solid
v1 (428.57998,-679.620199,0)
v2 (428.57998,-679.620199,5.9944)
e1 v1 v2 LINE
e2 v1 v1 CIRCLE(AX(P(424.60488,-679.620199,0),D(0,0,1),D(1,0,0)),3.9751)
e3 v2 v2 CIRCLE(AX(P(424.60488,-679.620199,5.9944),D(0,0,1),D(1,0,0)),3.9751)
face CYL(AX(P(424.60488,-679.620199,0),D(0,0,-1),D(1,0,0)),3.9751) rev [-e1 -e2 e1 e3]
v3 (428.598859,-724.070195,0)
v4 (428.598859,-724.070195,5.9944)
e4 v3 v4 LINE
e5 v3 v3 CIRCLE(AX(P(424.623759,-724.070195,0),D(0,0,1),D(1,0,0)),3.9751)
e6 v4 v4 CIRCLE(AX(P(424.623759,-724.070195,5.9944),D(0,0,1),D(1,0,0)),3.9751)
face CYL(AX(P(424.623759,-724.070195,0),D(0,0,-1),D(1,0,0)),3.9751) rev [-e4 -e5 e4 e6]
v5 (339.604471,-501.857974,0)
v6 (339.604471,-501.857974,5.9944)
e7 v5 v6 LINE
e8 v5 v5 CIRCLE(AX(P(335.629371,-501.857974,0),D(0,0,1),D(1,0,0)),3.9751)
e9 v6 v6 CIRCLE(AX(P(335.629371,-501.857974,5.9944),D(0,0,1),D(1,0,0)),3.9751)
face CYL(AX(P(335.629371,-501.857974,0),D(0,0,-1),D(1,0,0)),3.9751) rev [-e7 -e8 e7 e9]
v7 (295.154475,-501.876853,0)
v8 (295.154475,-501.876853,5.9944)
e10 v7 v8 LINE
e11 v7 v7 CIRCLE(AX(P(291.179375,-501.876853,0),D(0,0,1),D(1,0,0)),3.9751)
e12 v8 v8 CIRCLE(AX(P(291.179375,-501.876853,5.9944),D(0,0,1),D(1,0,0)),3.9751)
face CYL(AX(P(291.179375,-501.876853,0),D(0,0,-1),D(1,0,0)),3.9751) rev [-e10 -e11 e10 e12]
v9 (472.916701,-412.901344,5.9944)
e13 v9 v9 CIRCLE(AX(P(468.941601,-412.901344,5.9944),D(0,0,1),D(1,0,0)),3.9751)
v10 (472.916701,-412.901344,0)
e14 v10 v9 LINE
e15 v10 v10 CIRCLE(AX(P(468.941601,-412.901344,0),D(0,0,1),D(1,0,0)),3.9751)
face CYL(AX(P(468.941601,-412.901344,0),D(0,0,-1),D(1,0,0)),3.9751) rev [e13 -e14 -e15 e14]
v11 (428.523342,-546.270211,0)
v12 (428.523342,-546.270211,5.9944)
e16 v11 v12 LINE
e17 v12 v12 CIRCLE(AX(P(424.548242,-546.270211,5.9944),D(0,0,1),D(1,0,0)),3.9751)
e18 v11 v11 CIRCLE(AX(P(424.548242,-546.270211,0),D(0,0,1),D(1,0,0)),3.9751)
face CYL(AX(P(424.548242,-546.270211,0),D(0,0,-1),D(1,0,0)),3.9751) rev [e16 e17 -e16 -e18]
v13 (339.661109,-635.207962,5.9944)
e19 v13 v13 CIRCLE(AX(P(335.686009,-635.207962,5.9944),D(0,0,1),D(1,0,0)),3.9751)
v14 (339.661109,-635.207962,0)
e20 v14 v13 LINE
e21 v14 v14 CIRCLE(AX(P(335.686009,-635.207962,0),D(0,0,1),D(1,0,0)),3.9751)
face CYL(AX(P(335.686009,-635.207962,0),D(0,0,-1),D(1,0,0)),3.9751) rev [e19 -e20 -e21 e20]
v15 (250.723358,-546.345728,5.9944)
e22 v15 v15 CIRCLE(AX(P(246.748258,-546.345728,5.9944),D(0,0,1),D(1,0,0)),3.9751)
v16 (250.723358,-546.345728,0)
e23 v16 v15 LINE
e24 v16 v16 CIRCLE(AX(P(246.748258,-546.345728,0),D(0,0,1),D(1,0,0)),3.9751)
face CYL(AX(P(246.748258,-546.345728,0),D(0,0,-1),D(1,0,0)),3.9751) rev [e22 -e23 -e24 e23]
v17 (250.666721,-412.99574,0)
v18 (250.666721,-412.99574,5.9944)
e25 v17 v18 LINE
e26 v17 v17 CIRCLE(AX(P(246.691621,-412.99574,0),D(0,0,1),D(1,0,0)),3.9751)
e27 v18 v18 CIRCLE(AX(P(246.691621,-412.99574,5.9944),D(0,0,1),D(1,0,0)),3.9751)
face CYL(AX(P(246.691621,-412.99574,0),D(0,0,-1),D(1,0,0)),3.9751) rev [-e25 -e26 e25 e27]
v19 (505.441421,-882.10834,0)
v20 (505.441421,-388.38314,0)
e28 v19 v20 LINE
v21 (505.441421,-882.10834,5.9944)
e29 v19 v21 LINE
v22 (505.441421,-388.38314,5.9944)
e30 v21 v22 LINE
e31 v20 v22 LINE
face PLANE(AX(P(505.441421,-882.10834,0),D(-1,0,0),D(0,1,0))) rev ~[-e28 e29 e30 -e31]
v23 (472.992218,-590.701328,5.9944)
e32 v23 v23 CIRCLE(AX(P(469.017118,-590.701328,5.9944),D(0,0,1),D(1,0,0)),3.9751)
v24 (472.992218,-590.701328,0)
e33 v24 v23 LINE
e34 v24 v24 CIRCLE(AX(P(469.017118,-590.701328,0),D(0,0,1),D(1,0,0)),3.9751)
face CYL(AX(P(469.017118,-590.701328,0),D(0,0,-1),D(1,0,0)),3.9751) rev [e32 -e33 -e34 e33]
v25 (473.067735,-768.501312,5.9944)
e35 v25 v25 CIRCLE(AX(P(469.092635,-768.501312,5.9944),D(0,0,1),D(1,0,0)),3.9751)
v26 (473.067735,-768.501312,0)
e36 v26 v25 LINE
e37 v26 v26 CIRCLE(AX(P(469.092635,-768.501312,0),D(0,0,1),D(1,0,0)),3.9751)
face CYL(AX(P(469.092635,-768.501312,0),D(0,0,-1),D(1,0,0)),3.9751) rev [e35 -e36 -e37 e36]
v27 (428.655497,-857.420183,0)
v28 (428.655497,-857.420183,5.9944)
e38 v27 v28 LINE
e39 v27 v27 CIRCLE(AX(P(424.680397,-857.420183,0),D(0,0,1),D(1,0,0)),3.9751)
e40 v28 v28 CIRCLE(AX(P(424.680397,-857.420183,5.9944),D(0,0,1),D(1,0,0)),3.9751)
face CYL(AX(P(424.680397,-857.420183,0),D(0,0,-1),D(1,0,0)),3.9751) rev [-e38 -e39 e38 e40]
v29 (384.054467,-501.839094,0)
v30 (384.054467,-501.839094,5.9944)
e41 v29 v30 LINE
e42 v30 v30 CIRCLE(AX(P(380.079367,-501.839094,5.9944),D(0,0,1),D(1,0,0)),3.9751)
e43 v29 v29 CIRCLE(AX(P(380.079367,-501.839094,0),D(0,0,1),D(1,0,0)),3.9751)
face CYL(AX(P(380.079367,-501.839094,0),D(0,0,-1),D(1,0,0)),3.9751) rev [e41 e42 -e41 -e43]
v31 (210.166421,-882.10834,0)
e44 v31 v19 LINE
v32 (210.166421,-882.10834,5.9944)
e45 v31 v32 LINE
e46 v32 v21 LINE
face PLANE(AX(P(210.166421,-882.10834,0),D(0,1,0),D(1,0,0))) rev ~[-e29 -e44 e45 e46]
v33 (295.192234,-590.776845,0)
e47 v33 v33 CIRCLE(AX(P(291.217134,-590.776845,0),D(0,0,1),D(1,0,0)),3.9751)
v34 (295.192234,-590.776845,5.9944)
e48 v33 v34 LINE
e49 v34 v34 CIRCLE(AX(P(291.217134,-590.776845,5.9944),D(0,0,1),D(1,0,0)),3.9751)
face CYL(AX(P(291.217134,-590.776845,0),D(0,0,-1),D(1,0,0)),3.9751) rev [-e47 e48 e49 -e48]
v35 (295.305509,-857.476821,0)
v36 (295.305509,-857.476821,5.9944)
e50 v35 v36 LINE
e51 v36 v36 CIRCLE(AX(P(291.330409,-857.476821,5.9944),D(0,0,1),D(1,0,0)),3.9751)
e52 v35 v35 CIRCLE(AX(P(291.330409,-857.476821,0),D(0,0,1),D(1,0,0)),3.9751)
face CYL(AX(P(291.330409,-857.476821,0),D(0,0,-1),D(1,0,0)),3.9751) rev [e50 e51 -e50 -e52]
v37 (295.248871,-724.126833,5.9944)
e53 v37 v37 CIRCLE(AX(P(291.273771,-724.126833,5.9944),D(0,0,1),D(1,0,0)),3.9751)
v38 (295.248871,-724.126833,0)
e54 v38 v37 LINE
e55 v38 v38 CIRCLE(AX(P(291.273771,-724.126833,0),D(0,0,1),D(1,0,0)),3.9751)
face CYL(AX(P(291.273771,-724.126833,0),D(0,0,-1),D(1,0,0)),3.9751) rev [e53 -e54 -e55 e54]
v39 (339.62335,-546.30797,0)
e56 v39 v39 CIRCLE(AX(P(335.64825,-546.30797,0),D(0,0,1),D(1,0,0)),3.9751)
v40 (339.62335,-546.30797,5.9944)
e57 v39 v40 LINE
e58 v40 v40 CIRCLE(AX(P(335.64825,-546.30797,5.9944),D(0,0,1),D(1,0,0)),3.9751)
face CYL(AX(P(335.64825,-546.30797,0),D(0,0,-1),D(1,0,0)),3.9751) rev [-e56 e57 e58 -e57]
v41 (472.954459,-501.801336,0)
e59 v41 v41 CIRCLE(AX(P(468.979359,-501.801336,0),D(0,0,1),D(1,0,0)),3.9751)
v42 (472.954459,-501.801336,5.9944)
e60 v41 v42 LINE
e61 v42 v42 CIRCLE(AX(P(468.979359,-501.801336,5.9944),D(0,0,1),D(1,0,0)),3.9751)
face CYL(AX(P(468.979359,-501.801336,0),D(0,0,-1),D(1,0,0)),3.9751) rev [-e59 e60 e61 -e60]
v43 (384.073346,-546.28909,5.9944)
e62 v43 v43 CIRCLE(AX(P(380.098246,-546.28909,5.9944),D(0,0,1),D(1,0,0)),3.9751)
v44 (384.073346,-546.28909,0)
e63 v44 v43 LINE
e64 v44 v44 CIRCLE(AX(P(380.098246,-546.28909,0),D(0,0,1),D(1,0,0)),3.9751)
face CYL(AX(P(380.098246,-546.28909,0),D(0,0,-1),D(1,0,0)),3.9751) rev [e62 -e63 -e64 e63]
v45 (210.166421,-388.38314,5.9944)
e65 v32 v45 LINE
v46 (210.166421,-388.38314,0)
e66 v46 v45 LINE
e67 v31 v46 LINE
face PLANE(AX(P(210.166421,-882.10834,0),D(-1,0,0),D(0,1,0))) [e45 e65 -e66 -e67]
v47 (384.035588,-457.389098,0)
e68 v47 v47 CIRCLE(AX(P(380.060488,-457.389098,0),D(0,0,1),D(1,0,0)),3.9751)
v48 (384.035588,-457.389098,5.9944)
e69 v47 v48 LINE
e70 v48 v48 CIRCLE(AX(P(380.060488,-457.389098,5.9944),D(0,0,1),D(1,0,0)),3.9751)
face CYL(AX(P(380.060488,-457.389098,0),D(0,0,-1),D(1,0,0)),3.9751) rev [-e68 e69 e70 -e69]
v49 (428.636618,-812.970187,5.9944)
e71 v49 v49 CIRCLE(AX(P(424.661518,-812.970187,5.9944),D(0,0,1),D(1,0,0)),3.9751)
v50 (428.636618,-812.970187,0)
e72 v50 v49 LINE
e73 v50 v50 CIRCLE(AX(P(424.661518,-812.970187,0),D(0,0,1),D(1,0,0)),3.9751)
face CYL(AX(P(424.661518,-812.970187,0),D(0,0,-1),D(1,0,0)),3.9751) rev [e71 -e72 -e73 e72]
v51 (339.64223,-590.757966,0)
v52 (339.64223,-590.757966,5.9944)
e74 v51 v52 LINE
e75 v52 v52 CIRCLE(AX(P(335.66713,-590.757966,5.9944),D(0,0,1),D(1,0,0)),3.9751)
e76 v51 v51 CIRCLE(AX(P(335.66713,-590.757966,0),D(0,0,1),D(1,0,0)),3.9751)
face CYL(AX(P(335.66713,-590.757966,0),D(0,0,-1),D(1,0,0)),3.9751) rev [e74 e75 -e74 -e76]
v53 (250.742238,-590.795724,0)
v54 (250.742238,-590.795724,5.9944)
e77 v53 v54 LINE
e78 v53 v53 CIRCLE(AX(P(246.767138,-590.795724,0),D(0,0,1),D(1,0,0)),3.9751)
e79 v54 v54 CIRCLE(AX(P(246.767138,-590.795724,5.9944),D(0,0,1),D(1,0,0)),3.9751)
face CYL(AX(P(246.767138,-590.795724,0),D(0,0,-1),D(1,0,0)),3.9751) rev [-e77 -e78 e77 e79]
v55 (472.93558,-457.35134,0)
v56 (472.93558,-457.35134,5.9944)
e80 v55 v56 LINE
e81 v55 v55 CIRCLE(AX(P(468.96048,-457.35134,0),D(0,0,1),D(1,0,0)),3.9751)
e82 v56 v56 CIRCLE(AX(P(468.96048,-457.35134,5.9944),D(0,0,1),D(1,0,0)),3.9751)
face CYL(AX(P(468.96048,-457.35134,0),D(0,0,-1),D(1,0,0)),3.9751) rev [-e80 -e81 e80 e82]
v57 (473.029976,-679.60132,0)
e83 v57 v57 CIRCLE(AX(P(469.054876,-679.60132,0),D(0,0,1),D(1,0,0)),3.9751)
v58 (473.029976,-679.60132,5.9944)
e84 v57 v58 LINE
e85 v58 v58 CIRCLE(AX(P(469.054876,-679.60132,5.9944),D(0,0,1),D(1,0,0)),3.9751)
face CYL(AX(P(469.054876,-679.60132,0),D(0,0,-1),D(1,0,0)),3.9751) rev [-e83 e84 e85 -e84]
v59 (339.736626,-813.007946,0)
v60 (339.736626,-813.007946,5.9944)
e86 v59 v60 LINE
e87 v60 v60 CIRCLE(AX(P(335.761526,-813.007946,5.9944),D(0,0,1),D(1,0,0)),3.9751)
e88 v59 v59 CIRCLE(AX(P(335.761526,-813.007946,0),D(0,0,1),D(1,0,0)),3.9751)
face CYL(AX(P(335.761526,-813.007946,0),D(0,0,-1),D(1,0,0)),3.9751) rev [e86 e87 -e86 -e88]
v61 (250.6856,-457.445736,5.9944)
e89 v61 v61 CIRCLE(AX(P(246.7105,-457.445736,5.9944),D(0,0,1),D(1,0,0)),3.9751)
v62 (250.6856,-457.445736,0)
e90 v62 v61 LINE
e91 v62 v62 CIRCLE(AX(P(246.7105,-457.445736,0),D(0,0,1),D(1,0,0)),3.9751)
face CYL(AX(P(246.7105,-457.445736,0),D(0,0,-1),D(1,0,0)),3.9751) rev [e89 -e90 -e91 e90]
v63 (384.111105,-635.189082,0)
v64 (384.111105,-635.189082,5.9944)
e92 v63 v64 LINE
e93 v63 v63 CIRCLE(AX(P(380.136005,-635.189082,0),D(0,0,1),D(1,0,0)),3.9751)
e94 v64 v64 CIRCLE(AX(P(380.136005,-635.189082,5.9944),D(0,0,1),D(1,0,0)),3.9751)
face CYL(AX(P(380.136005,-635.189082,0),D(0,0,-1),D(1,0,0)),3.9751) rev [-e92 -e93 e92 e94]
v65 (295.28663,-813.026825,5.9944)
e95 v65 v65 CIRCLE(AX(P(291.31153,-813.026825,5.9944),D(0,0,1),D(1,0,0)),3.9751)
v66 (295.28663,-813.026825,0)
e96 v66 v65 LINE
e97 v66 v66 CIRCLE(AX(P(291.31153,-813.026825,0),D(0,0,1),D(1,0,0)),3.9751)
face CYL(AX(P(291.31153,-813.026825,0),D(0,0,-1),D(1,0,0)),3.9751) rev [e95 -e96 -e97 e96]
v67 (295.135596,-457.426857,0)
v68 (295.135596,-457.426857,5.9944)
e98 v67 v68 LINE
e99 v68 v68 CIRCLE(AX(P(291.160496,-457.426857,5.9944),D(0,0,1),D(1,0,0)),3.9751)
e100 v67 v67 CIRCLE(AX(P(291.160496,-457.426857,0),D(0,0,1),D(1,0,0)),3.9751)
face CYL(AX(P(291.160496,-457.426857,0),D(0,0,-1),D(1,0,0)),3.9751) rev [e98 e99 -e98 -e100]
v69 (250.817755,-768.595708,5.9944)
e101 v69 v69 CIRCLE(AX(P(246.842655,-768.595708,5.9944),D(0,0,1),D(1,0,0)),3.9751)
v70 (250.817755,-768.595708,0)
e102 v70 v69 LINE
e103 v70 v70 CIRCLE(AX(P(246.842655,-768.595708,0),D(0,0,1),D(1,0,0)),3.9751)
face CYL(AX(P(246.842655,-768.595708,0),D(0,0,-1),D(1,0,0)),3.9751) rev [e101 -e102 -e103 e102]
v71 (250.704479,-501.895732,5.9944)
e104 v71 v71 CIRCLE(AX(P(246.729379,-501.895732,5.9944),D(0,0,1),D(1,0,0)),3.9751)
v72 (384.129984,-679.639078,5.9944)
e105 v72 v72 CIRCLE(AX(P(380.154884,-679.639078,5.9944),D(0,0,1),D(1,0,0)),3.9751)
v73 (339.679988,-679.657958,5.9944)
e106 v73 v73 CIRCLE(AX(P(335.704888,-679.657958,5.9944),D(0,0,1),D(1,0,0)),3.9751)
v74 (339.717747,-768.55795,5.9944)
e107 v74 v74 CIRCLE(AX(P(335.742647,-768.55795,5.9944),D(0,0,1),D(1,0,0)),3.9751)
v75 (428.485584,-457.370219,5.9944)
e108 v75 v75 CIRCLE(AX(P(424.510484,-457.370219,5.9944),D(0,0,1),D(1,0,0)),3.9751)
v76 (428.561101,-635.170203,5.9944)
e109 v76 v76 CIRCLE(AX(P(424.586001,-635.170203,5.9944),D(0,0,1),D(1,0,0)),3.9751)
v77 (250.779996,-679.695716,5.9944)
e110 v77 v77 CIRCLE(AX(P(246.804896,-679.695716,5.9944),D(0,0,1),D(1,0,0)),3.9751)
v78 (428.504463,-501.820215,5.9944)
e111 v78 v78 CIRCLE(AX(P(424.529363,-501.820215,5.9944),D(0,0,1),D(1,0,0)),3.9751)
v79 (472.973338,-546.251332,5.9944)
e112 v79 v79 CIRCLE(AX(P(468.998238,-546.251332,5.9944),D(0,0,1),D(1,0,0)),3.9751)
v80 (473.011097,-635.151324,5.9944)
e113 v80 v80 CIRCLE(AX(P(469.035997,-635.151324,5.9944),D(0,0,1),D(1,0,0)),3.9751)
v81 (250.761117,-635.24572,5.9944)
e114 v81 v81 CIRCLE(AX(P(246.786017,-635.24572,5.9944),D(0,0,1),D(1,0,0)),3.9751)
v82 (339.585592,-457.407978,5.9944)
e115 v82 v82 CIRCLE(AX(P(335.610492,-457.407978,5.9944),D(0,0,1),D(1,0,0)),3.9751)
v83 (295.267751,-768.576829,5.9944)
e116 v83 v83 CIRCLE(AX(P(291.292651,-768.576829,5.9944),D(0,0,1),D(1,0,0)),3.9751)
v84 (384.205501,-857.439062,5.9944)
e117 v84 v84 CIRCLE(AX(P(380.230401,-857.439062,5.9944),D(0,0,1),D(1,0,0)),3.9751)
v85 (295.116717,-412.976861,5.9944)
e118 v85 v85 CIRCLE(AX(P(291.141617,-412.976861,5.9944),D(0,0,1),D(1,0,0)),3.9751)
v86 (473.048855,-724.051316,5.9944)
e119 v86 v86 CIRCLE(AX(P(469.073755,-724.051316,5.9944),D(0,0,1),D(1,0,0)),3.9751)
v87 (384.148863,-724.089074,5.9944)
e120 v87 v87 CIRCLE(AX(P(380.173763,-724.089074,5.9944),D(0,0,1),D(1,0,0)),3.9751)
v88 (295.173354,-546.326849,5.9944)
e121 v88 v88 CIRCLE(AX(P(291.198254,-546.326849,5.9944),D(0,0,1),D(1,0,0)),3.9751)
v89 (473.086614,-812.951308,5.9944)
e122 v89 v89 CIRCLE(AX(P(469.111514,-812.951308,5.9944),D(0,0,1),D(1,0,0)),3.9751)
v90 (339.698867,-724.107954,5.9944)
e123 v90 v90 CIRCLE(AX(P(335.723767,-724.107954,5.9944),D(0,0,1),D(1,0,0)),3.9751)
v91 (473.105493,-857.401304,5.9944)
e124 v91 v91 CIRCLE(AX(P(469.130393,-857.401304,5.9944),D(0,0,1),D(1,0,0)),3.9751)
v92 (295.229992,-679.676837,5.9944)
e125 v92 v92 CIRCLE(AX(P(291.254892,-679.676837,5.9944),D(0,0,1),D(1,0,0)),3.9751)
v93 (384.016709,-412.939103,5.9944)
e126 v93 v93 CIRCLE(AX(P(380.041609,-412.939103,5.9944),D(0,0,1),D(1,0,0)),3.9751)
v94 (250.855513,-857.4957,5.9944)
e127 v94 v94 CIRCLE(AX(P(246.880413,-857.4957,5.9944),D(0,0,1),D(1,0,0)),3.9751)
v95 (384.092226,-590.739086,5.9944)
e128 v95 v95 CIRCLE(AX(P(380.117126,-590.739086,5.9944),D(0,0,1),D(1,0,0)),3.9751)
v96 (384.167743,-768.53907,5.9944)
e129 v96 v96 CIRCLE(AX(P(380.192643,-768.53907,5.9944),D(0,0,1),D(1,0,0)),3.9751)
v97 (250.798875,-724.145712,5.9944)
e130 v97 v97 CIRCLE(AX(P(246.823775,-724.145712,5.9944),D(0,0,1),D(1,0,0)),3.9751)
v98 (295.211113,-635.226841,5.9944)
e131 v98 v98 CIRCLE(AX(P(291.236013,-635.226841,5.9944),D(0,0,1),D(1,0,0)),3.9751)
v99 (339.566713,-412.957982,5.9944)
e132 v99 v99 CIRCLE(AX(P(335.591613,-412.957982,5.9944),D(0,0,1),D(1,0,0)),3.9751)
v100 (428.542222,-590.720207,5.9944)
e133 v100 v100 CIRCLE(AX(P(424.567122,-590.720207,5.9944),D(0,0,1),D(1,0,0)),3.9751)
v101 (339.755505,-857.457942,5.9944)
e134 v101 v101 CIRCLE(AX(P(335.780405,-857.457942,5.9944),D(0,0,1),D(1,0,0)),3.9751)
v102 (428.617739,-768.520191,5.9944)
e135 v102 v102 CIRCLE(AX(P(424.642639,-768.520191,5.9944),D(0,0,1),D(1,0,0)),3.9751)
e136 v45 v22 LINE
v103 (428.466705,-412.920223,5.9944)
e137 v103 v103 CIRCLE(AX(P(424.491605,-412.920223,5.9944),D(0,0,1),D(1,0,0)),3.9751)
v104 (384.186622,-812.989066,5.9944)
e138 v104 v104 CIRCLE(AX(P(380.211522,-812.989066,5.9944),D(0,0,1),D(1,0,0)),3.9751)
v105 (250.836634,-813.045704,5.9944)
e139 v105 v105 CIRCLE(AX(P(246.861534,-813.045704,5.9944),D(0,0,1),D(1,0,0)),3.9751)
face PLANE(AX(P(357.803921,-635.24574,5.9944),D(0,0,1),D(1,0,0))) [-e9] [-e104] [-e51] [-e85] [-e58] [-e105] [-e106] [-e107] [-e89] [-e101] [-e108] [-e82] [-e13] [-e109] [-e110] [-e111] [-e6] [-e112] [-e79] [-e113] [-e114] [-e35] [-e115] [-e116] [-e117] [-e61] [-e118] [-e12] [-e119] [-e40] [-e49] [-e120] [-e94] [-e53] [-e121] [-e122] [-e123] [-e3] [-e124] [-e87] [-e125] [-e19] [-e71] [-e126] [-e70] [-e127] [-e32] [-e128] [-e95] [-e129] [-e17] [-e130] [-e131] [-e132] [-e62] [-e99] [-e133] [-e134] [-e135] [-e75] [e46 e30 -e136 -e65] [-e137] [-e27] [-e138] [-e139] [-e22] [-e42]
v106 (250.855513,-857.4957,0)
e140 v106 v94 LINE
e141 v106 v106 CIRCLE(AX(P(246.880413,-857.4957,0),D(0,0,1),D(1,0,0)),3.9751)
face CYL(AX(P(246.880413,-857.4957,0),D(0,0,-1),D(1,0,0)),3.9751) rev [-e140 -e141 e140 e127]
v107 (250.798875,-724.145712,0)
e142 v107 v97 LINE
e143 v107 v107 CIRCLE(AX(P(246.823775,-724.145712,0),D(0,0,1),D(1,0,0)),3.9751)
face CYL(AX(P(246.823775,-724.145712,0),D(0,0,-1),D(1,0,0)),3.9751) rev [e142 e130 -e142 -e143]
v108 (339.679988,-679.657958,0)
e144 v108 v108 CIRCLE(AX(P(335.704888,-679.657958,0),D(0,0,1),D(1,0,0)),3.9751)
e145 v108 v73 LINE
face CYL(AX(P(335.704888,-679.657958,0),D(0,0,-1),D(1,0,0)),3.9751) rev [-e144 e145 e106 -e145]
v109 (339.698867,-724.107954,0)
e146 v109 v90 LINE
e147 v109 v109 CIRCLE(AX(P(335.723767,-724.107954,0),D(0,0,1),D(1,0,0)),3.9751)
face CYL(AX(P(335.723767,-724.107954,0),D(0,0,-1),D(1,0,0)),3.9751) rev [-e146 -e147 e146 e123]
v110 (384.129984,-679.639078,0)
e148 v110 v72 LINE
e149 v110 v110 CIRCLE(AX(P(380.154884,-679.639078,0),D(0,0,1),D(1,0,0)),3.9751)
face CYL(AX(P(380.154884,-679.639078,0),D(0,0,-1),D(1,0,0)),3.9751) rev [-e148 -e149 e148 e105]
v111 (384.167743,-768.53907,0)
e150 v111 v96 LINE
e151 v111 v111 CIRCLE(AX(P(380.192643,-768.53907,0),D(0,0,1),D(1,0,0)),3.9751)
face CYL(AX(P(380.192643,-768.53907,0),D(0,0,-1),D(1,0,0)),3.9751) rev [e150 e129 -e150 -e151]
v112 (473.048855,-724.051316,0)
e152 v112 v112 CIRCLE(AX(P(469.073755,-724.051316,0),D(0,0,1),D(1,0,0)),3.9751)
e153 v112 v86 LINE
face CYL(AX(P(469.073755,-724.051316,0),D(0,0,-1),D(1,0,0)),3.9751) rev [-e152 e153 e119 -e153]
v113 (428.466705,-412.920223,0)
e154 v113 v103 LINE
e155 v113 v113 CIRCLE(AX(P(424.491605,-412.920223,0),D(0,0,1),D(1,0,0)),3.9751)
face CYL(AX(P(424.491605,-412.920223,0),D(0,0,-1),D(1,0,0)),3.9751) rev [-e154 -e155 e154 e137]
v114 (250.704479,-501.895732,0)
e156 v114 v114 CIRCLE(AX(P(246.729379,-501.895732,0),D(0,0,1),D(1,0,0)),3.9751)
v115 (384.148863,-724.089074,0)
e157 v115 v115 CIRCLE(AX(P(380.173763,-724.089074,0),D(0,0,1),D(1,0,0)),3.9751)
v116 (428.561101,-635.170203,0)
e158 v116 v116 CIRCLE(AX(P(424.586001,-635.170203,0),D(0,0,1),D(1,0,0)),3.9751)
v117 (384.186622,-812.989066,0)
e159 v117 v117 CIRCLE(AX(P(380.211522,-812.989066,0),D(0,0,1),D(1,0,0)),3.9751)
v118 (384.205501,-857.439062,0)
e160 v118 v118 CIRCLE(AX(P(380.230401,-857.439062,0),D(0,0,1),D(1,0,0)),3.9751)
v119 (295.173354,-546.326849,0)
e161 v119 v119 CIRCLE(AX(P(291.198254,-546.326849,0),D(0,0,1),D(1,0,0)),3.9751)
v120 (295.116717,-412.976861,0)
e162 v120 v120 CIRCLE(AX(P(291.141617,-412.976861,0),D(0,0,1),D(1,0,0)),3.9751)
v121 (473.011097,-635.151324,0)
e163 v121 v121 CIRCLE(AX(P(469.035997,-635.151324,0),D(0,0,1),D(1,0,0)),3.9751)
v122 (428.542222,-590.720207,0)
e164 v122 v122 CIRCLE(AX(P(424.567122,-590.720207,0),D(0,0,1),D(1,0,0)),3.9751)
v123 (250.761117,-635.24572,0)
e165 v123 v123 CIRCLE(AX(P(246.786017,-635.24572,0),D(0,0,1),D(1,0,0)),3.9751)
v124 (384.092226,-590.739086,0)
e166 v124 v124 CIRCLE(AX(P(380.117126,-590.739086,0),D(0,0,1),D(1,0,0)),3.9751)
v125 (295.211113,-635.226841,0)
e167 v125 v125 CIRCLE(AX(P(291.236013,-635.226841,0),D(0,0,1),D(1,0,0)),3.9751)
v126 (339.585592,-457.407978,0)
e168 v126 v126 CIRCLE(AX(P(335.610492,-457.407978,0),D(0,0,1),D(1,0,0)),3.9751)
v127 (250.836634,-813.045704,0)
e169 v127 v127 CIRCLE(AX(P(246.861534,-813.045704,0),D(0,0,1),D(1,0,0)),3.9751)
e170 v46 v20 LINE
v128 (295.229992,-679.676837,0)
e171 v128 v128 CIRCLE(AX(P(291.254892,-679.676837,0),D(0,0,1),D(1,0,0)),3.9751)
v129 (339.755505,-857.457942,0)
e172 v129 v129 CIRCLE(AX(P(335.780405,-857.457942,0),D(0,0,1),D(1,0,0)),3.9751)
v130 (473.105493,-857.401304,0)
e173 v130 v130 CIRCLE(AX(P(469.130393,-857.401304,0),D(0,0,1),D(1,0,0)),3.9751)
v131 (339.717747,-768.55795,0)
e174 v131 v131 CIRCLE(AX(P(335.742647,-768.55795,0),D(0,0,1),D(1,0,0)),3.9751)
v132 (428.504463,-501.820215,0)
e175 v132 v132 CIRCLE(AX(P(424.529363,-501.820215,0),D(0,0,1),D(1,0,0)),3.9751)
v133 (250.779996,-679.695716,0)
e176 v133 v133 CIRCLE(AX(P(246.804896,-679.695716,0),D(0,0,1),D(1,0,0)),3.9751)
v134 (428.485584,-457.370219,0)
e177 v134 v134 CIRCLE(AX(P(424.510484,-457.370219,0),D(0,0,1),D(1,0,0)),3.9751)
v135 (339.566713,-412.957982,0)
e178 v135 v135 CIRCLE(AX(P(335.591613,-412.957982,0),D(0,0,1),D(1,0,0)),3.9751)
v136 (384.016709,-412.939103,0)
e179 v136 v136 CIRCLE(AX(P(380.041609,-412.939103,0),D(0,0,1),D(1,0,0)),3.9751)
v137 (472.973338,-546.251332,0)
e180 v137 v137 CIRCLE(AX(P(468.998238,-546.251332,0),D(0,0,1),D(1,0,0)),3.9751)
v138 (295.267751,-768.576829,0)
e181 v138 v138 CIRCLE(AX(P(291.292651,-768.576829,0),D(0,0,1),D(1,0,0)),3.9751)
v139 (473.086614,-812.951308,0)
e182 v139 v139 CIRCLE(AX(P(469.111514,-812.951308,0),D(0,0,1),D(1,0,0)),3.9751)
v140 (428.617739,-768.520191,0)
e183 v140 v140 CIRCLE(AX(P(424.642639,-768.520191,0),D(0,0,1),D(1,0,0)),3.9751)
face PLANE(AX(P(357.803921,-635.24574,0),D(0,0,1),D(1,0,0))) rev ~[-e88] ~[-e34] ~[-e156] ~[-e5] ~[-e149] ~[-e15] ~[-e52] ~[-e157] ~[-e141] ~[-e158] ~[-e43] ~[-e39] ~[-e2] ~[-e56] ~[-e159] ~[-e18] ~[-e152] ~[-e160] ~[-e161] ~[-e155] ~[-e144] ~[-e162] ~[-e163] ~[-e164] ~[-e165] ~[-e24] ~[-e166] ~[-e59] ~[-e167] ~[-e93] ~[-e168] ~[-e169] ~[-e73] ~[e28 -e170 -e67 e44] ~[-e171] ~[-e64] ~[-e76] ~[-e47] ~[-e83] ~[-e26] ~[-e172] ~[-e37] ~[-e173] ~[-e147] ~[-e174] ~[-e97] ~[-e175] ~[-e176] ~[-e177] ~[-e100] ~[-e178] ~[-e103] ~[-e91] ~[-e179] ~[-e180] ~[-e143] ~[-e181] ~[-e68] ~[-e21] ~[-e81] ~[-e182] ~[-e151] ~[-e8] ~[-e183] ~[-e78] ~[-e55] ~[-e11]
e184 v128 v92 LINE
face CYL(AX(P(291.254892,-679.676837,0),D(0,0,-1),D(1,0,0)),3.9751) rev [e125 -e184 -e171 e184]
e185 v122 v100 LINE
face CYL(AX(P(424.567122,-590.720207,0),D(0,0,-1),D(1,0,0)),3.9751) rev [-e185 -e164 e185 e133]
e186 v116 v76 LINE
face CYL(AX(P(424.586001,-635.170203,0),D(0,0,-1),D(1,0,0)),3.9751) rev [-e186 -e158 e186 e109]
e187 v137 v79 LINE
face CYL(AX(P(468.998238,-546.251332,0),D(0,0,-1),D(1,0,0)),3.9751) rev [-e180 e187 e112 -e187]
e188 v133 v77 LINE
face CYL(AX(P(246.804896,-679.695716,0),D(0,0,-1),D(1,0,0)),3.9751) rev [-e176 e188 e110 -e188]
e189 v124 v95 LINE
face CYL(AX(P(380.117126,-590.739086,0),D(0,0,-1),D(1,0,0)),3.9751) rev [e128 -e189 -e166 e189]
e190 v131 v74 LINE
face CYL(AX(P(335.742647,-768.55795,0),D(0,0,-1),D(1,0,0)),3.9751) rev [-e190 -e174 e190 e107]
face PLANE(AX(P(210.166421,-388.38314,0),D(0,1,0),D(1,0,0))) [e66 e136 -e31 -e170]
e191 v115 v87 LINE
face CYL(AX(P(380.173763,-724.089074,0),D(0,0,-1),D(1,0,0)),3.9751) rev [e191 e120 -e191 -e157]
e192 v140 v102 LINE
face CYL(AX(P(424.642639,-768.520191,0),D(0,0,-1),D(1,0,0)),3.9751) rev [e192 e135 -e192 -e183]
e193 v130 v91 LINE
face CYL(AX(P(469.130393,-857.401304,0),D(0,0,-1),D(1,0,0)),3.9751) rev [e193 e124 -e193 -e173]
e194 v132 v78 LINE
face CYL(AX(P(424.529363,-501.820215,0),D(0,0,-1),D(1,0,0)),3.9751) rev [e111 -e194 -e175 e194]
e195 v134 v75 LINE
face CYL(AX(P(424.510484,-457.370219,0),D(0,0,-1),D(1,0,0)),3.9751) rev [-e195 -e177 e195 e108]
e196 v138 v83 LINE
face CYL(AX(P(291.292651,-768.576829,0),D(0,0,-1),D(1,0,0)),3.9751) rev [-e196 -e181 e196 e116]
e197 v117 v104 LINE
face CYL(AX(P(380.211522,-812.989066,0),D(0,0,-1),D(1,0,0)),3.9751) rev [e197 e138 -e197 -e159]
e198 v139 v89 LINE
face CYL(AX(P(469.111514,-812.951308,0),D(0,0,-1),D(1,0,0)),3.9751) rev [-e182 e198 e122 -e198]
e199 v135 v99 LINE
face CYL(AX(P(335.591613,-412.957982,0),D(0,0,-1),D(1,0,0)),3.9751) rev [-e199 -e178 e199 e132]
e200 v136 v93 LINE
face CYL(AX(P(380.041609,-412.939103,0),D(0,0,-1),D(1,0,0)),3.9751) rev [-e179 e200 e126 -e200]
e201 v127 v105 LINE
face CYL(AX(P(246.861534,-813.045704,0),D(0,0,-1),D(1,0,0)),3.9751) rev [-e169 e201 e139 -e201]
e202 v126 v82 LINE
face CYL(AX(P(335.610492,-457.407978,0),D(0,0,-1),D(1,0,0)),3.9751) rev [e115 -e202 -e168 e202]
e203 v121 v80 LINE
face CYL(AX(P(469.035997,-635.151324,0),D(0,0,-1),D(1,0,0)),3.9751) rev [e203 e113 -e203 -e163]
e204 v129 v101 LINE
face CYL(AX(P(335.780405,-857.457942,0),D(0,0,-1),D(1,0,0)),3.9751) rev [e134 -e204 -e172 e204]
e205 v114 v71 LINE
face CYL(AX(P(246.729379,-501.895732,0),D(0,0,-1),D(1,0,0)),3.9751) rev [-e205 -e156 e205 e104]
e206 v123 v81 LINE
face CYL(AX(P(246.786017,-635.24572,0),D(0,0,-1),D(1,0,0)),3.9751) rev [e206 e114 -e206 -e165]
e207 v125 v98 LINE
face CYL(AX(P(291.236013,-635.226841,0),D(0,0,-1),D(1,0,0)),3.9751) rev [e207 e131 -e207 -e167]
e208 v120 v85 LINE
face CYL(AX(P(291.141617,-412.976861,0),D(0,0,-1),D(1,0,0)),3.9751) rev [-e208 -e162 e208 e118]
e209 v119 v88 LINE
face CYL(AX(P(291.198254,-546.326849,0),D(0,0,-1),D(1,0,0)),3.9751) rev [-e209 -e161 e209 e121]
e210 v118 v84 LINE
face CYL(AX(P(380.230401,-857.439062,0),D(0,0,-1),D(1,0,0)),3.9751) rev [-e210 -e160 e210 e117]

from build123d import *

# Parameters (mm, degrees)
SKETCH_W      = 295.275
SKETCH_H      = 493.7252
SKETCH_R      = 3.9751
EXTRUDE_DEPTH = 5.9944


with BuildPart() as part:
    # Sketch → Extrude (new body)
    with BuildSketch(Plane.XY):
        with Locations((357.803921, -635.24574)):
            Rectangle(SKETCH_W, SKETCH_H)
        with Locations((246.691621, -412.99574)):
            Circle(SKETCH_R, mode=Mode.SUBTRACT)
        with Locations((291.141617, -412.976861)):
            Circle(SKETCH_R, mode=Mode.SUBTRACT)
        with Locations((335.591613, -412.957982)):
            Circle(SKETCH_R, mode=Mode.SUBTRACT)
        with Locations((380.041609, -412.939103)):
            Circle(SKETCH_R, mode=Mode.SUBTRACT)
        with Locations((424.491605, -412.920223)):
            Circle(SKETCH_R, mode=Mode.SUBTRACT)
        with Locations((468.941601, -412.901344)):
            Circle(SKETCH_R, mode=Mode.SUBTRACT)
        with Locations((246.7105, -457.445736)):
            Circle(SKETCH_R, mode=Mode.SUBTRACT)
        with Locations((291.160496, -457.426857)):
            Circle(SKETCH_R, mode=Mode.SUBTRACT)
        with Locations((335.610492, -457.407978)):
            Circle(SKETCH_R, mode=Mode.SUBTRACT)
        with Locations((380.060488, -457.389098)):
            Circle(SKETCH_R, mode=Mode.SUBTRACT)
        with Locations((424.510484, -457.370219)):
            Circle(SKETCH_R, mode=Mode.SUBTRACT)
        with Locations((468.96048, -457.35134)):
            Circle(SKETCH_R, mode=Mode.SUBTRACT)
        with Locations((246.729379, -501.895732)):
            Circle(SKETCH_R, mode=Mode.SUBTRACT)
        with Locations((291.179375, -501.876853)):
            Circle(SKETCH_R, mode=Mode.SUBTRACT)
        with Locations((335.629371, -501.857974)):
            Circle(SKETCH_R, mode=Mode.SUBTRACT)
        with Locations((380.079367, -501.839094)):
            Circle(SKETCH_R, mode=Mode.SUBTRACT)
        with Locations((424.529363, -501.820215)):
            Circle(SKETCH_R, mode=Mode.SUBTRACT)
        with Locations((468.979359, -501.801336)):
            Circle(SKETCH_R, mode=Mode.SUBTRACT)
        with Locations((246.748258, -546.345728)):
            Circle(SKETCH_R, mode=Mode.SUBTRACT)
        with Locations((291.198254, -546.326849)):
            Circle(SKETCH_R, mode=Mode.SUBTRACT)
        with Locations((335.64825, -546.30797)):
            Circle(SKETCH_R, mode=Mode.SUBTRACT)
        with Locations((380.098246, -546.28909)):
            Circle(SKETCH_R, mode=Mode.SUBTRACT)
        with Locations((424.548242, -546.270211)):
            Circle(SKETCH_R, mode=Mode.SUBTRACT)
        with Locations((468.998238, -546.251332)):
            Circle(SKETCH_R, mode=Mode.SUBTRACT)
        with Locations((246.767138, -590.795724)):
            Circle(SKETCH_R, mode=Mode.SUBTRACT)
        with Locations((291.217134, -590.776845)):
            Circle(SKETCH_R, mode=Mode.SUBTRACT)
        with Locations((335.66713, -590.757966)):
            Circle(SKETCH_R, mode=Mode.SUBTRACT)
        with Locations((380.117126, -590.739086)):
            Circle(SKETCH_R, mode=Mode.SUBTRACT)
        with Locations((424.567122, -590.720207)):
            Circle(SKETCH_R, mode=Mode.SUBTRACT)
        with Locations((469.017118, -590.701328)):
            Circle(SKETCH_R, mode=Mode.SUBTRACT)
        with Locations((246.786017, -635.24572)):
            Circle(SKETCH_R, mode=Mode.SUBTRACT)
        with Locations((291.236013, -635.226841)):
            Circle(SKETCH_R, mode=Mode.SUBTRACT)
        with Locations((335.686009, -635.207962)):
            Circle(SKETCH_R, mode=Mode.SUBTRACT)
        with Locations((380.136005, -635.189082)):
            Circle(SKETCH_R, mode=Mode.SUBTRACT)
        with Locations((424.586001, -635.170203)):
            Circle(SKETCH_R, mode=Mode.SUBTRACT)
        with Locations((469.035997, -635.151324)):
            Circle(SKETCH_R, mode=Mode.SUBTRACT)
        with Locations((246.804896, -679.695716)):
            Circle(SKETCH_R, mode=Mode.SUBTRACT)
        with Locations((291.254892, -679.676837)):
            Circle(SKETCH_R, mode=Mode.SUBTRACT)
        with Locations((335.704888, -679.657958)):
            Circle(SKETCH_R, mode=Mode.SUBTRACT)
        with Locations((380.154884, -679.639078)):
            Circle(SKETCH_R, mode=Mode.SUBTRACT)
        with Locations((424.60488, -679.620199)):
            Circle(SKETCH_R, mode=Mode.SUBTRACT)
        with Locations((469.054876, -679.60132)):
            Circle(SKETCH_R, mode=Mode.SUBTRACT)
        with Locations((246.823775, -724.145712)):
            Circle(SKETCH_R, mode=Mode.SUBTRACT)
        with Locations((291.273771, -724.126833)):
            Circle(SKETCH_R, mode=Mode.SUBTRACT)
        with Locations((335.723767, -724.107954)):
            Circle(SKETCH_R, mode=Mode.SUBTRACT)
        with Locations((380.173763, -724.089074)):
            Circle(SKETCH_R, mode=Mode.SUBTRACT)
        with Locations((424.623759, -724.070195)):
            Circle(SKETCH_R, mode=Mode.SUBTRACT)
        with Locations((469.073755, -724.051316)):
            Circle(SKETCH_R, mode=Mode.SUBTRACT)
        with Locations((246.842655, -768.595708)):
            Circle(SKETCH_R, mode=Mode.SUBTRACT)
        with Locations((291.292651, -768.576829)):
            Circle(SKETCH_R, mode=Mode.SUBTRACT)
        with Locations((335.742647, -768.55795)):
            Circle(SKETCH_R, mode=Mode.SUBTRACT)
        with Locations((380.192643, -768.53907)):
            Circle(SKETCH_R, mode=Mode.SUBTRACT)
        with Locations((424.642639, -768.520191)):
            Circle(SKETCH_R, mode=Mode.SUBTRACT)
        with Locations((469.092635, -768.501312)):
            Circle(SKETCH_R, mode=Mode.SUBTRACT)
        with Locations((246.861534, -813.045704)):
            Circle(SKETCH_R, mode=Mode.SUBTRACT)
        with Locations((291.31153, -813.026825)):
            Circle(SKETCH_R, mode=Mode.SUBTRACT)
        with Locations((335.761526, -813.007946)):
            Circle(SKETCH_R, mode=Mode.SUBTRACT)
        with Locations((380.211522, -812.989066)):
            Circle(SKETCH_R, mode=Mode.SUBTRACT)
        with Locations((424.661518, -812.970187)):
            Circle(SKETCH_R, mode=Mode.SUBTRACT)
        with Locations((469.111514, -812.951308)):
            Circle(SKETCH_R, mode=Mode.SUBTRACT)
        with Locations((246.880413, -857.4957)):
            Circle(SKETCH_R, mode=Mode.SUBTRACT)
        with Locations((291.330409, -857.476821)):
            Circle(SKETCH_R, mode=Mode.SUBTRACT)
        with Locations((335.780405, -857.457942)):
            Circle(SKETCH_R, mode=Mode.SUBTRACT)
        with Locations((380.230401, -857.439062)):
            Circle(SKETCH_R, mode=Mode.SUBTRACT)
        with Locations((424.680397, -857.420183)):
            Circle(SKETCH_R, mode=Mode.SUBTRACT)
        with Locations((469.130393, -857.401304)):
            Circle(SKETCH_R, mode=Mode.SUBTRACT)
    extrude(amount=EXTRUDE_DEPTH)


solid = part.part
